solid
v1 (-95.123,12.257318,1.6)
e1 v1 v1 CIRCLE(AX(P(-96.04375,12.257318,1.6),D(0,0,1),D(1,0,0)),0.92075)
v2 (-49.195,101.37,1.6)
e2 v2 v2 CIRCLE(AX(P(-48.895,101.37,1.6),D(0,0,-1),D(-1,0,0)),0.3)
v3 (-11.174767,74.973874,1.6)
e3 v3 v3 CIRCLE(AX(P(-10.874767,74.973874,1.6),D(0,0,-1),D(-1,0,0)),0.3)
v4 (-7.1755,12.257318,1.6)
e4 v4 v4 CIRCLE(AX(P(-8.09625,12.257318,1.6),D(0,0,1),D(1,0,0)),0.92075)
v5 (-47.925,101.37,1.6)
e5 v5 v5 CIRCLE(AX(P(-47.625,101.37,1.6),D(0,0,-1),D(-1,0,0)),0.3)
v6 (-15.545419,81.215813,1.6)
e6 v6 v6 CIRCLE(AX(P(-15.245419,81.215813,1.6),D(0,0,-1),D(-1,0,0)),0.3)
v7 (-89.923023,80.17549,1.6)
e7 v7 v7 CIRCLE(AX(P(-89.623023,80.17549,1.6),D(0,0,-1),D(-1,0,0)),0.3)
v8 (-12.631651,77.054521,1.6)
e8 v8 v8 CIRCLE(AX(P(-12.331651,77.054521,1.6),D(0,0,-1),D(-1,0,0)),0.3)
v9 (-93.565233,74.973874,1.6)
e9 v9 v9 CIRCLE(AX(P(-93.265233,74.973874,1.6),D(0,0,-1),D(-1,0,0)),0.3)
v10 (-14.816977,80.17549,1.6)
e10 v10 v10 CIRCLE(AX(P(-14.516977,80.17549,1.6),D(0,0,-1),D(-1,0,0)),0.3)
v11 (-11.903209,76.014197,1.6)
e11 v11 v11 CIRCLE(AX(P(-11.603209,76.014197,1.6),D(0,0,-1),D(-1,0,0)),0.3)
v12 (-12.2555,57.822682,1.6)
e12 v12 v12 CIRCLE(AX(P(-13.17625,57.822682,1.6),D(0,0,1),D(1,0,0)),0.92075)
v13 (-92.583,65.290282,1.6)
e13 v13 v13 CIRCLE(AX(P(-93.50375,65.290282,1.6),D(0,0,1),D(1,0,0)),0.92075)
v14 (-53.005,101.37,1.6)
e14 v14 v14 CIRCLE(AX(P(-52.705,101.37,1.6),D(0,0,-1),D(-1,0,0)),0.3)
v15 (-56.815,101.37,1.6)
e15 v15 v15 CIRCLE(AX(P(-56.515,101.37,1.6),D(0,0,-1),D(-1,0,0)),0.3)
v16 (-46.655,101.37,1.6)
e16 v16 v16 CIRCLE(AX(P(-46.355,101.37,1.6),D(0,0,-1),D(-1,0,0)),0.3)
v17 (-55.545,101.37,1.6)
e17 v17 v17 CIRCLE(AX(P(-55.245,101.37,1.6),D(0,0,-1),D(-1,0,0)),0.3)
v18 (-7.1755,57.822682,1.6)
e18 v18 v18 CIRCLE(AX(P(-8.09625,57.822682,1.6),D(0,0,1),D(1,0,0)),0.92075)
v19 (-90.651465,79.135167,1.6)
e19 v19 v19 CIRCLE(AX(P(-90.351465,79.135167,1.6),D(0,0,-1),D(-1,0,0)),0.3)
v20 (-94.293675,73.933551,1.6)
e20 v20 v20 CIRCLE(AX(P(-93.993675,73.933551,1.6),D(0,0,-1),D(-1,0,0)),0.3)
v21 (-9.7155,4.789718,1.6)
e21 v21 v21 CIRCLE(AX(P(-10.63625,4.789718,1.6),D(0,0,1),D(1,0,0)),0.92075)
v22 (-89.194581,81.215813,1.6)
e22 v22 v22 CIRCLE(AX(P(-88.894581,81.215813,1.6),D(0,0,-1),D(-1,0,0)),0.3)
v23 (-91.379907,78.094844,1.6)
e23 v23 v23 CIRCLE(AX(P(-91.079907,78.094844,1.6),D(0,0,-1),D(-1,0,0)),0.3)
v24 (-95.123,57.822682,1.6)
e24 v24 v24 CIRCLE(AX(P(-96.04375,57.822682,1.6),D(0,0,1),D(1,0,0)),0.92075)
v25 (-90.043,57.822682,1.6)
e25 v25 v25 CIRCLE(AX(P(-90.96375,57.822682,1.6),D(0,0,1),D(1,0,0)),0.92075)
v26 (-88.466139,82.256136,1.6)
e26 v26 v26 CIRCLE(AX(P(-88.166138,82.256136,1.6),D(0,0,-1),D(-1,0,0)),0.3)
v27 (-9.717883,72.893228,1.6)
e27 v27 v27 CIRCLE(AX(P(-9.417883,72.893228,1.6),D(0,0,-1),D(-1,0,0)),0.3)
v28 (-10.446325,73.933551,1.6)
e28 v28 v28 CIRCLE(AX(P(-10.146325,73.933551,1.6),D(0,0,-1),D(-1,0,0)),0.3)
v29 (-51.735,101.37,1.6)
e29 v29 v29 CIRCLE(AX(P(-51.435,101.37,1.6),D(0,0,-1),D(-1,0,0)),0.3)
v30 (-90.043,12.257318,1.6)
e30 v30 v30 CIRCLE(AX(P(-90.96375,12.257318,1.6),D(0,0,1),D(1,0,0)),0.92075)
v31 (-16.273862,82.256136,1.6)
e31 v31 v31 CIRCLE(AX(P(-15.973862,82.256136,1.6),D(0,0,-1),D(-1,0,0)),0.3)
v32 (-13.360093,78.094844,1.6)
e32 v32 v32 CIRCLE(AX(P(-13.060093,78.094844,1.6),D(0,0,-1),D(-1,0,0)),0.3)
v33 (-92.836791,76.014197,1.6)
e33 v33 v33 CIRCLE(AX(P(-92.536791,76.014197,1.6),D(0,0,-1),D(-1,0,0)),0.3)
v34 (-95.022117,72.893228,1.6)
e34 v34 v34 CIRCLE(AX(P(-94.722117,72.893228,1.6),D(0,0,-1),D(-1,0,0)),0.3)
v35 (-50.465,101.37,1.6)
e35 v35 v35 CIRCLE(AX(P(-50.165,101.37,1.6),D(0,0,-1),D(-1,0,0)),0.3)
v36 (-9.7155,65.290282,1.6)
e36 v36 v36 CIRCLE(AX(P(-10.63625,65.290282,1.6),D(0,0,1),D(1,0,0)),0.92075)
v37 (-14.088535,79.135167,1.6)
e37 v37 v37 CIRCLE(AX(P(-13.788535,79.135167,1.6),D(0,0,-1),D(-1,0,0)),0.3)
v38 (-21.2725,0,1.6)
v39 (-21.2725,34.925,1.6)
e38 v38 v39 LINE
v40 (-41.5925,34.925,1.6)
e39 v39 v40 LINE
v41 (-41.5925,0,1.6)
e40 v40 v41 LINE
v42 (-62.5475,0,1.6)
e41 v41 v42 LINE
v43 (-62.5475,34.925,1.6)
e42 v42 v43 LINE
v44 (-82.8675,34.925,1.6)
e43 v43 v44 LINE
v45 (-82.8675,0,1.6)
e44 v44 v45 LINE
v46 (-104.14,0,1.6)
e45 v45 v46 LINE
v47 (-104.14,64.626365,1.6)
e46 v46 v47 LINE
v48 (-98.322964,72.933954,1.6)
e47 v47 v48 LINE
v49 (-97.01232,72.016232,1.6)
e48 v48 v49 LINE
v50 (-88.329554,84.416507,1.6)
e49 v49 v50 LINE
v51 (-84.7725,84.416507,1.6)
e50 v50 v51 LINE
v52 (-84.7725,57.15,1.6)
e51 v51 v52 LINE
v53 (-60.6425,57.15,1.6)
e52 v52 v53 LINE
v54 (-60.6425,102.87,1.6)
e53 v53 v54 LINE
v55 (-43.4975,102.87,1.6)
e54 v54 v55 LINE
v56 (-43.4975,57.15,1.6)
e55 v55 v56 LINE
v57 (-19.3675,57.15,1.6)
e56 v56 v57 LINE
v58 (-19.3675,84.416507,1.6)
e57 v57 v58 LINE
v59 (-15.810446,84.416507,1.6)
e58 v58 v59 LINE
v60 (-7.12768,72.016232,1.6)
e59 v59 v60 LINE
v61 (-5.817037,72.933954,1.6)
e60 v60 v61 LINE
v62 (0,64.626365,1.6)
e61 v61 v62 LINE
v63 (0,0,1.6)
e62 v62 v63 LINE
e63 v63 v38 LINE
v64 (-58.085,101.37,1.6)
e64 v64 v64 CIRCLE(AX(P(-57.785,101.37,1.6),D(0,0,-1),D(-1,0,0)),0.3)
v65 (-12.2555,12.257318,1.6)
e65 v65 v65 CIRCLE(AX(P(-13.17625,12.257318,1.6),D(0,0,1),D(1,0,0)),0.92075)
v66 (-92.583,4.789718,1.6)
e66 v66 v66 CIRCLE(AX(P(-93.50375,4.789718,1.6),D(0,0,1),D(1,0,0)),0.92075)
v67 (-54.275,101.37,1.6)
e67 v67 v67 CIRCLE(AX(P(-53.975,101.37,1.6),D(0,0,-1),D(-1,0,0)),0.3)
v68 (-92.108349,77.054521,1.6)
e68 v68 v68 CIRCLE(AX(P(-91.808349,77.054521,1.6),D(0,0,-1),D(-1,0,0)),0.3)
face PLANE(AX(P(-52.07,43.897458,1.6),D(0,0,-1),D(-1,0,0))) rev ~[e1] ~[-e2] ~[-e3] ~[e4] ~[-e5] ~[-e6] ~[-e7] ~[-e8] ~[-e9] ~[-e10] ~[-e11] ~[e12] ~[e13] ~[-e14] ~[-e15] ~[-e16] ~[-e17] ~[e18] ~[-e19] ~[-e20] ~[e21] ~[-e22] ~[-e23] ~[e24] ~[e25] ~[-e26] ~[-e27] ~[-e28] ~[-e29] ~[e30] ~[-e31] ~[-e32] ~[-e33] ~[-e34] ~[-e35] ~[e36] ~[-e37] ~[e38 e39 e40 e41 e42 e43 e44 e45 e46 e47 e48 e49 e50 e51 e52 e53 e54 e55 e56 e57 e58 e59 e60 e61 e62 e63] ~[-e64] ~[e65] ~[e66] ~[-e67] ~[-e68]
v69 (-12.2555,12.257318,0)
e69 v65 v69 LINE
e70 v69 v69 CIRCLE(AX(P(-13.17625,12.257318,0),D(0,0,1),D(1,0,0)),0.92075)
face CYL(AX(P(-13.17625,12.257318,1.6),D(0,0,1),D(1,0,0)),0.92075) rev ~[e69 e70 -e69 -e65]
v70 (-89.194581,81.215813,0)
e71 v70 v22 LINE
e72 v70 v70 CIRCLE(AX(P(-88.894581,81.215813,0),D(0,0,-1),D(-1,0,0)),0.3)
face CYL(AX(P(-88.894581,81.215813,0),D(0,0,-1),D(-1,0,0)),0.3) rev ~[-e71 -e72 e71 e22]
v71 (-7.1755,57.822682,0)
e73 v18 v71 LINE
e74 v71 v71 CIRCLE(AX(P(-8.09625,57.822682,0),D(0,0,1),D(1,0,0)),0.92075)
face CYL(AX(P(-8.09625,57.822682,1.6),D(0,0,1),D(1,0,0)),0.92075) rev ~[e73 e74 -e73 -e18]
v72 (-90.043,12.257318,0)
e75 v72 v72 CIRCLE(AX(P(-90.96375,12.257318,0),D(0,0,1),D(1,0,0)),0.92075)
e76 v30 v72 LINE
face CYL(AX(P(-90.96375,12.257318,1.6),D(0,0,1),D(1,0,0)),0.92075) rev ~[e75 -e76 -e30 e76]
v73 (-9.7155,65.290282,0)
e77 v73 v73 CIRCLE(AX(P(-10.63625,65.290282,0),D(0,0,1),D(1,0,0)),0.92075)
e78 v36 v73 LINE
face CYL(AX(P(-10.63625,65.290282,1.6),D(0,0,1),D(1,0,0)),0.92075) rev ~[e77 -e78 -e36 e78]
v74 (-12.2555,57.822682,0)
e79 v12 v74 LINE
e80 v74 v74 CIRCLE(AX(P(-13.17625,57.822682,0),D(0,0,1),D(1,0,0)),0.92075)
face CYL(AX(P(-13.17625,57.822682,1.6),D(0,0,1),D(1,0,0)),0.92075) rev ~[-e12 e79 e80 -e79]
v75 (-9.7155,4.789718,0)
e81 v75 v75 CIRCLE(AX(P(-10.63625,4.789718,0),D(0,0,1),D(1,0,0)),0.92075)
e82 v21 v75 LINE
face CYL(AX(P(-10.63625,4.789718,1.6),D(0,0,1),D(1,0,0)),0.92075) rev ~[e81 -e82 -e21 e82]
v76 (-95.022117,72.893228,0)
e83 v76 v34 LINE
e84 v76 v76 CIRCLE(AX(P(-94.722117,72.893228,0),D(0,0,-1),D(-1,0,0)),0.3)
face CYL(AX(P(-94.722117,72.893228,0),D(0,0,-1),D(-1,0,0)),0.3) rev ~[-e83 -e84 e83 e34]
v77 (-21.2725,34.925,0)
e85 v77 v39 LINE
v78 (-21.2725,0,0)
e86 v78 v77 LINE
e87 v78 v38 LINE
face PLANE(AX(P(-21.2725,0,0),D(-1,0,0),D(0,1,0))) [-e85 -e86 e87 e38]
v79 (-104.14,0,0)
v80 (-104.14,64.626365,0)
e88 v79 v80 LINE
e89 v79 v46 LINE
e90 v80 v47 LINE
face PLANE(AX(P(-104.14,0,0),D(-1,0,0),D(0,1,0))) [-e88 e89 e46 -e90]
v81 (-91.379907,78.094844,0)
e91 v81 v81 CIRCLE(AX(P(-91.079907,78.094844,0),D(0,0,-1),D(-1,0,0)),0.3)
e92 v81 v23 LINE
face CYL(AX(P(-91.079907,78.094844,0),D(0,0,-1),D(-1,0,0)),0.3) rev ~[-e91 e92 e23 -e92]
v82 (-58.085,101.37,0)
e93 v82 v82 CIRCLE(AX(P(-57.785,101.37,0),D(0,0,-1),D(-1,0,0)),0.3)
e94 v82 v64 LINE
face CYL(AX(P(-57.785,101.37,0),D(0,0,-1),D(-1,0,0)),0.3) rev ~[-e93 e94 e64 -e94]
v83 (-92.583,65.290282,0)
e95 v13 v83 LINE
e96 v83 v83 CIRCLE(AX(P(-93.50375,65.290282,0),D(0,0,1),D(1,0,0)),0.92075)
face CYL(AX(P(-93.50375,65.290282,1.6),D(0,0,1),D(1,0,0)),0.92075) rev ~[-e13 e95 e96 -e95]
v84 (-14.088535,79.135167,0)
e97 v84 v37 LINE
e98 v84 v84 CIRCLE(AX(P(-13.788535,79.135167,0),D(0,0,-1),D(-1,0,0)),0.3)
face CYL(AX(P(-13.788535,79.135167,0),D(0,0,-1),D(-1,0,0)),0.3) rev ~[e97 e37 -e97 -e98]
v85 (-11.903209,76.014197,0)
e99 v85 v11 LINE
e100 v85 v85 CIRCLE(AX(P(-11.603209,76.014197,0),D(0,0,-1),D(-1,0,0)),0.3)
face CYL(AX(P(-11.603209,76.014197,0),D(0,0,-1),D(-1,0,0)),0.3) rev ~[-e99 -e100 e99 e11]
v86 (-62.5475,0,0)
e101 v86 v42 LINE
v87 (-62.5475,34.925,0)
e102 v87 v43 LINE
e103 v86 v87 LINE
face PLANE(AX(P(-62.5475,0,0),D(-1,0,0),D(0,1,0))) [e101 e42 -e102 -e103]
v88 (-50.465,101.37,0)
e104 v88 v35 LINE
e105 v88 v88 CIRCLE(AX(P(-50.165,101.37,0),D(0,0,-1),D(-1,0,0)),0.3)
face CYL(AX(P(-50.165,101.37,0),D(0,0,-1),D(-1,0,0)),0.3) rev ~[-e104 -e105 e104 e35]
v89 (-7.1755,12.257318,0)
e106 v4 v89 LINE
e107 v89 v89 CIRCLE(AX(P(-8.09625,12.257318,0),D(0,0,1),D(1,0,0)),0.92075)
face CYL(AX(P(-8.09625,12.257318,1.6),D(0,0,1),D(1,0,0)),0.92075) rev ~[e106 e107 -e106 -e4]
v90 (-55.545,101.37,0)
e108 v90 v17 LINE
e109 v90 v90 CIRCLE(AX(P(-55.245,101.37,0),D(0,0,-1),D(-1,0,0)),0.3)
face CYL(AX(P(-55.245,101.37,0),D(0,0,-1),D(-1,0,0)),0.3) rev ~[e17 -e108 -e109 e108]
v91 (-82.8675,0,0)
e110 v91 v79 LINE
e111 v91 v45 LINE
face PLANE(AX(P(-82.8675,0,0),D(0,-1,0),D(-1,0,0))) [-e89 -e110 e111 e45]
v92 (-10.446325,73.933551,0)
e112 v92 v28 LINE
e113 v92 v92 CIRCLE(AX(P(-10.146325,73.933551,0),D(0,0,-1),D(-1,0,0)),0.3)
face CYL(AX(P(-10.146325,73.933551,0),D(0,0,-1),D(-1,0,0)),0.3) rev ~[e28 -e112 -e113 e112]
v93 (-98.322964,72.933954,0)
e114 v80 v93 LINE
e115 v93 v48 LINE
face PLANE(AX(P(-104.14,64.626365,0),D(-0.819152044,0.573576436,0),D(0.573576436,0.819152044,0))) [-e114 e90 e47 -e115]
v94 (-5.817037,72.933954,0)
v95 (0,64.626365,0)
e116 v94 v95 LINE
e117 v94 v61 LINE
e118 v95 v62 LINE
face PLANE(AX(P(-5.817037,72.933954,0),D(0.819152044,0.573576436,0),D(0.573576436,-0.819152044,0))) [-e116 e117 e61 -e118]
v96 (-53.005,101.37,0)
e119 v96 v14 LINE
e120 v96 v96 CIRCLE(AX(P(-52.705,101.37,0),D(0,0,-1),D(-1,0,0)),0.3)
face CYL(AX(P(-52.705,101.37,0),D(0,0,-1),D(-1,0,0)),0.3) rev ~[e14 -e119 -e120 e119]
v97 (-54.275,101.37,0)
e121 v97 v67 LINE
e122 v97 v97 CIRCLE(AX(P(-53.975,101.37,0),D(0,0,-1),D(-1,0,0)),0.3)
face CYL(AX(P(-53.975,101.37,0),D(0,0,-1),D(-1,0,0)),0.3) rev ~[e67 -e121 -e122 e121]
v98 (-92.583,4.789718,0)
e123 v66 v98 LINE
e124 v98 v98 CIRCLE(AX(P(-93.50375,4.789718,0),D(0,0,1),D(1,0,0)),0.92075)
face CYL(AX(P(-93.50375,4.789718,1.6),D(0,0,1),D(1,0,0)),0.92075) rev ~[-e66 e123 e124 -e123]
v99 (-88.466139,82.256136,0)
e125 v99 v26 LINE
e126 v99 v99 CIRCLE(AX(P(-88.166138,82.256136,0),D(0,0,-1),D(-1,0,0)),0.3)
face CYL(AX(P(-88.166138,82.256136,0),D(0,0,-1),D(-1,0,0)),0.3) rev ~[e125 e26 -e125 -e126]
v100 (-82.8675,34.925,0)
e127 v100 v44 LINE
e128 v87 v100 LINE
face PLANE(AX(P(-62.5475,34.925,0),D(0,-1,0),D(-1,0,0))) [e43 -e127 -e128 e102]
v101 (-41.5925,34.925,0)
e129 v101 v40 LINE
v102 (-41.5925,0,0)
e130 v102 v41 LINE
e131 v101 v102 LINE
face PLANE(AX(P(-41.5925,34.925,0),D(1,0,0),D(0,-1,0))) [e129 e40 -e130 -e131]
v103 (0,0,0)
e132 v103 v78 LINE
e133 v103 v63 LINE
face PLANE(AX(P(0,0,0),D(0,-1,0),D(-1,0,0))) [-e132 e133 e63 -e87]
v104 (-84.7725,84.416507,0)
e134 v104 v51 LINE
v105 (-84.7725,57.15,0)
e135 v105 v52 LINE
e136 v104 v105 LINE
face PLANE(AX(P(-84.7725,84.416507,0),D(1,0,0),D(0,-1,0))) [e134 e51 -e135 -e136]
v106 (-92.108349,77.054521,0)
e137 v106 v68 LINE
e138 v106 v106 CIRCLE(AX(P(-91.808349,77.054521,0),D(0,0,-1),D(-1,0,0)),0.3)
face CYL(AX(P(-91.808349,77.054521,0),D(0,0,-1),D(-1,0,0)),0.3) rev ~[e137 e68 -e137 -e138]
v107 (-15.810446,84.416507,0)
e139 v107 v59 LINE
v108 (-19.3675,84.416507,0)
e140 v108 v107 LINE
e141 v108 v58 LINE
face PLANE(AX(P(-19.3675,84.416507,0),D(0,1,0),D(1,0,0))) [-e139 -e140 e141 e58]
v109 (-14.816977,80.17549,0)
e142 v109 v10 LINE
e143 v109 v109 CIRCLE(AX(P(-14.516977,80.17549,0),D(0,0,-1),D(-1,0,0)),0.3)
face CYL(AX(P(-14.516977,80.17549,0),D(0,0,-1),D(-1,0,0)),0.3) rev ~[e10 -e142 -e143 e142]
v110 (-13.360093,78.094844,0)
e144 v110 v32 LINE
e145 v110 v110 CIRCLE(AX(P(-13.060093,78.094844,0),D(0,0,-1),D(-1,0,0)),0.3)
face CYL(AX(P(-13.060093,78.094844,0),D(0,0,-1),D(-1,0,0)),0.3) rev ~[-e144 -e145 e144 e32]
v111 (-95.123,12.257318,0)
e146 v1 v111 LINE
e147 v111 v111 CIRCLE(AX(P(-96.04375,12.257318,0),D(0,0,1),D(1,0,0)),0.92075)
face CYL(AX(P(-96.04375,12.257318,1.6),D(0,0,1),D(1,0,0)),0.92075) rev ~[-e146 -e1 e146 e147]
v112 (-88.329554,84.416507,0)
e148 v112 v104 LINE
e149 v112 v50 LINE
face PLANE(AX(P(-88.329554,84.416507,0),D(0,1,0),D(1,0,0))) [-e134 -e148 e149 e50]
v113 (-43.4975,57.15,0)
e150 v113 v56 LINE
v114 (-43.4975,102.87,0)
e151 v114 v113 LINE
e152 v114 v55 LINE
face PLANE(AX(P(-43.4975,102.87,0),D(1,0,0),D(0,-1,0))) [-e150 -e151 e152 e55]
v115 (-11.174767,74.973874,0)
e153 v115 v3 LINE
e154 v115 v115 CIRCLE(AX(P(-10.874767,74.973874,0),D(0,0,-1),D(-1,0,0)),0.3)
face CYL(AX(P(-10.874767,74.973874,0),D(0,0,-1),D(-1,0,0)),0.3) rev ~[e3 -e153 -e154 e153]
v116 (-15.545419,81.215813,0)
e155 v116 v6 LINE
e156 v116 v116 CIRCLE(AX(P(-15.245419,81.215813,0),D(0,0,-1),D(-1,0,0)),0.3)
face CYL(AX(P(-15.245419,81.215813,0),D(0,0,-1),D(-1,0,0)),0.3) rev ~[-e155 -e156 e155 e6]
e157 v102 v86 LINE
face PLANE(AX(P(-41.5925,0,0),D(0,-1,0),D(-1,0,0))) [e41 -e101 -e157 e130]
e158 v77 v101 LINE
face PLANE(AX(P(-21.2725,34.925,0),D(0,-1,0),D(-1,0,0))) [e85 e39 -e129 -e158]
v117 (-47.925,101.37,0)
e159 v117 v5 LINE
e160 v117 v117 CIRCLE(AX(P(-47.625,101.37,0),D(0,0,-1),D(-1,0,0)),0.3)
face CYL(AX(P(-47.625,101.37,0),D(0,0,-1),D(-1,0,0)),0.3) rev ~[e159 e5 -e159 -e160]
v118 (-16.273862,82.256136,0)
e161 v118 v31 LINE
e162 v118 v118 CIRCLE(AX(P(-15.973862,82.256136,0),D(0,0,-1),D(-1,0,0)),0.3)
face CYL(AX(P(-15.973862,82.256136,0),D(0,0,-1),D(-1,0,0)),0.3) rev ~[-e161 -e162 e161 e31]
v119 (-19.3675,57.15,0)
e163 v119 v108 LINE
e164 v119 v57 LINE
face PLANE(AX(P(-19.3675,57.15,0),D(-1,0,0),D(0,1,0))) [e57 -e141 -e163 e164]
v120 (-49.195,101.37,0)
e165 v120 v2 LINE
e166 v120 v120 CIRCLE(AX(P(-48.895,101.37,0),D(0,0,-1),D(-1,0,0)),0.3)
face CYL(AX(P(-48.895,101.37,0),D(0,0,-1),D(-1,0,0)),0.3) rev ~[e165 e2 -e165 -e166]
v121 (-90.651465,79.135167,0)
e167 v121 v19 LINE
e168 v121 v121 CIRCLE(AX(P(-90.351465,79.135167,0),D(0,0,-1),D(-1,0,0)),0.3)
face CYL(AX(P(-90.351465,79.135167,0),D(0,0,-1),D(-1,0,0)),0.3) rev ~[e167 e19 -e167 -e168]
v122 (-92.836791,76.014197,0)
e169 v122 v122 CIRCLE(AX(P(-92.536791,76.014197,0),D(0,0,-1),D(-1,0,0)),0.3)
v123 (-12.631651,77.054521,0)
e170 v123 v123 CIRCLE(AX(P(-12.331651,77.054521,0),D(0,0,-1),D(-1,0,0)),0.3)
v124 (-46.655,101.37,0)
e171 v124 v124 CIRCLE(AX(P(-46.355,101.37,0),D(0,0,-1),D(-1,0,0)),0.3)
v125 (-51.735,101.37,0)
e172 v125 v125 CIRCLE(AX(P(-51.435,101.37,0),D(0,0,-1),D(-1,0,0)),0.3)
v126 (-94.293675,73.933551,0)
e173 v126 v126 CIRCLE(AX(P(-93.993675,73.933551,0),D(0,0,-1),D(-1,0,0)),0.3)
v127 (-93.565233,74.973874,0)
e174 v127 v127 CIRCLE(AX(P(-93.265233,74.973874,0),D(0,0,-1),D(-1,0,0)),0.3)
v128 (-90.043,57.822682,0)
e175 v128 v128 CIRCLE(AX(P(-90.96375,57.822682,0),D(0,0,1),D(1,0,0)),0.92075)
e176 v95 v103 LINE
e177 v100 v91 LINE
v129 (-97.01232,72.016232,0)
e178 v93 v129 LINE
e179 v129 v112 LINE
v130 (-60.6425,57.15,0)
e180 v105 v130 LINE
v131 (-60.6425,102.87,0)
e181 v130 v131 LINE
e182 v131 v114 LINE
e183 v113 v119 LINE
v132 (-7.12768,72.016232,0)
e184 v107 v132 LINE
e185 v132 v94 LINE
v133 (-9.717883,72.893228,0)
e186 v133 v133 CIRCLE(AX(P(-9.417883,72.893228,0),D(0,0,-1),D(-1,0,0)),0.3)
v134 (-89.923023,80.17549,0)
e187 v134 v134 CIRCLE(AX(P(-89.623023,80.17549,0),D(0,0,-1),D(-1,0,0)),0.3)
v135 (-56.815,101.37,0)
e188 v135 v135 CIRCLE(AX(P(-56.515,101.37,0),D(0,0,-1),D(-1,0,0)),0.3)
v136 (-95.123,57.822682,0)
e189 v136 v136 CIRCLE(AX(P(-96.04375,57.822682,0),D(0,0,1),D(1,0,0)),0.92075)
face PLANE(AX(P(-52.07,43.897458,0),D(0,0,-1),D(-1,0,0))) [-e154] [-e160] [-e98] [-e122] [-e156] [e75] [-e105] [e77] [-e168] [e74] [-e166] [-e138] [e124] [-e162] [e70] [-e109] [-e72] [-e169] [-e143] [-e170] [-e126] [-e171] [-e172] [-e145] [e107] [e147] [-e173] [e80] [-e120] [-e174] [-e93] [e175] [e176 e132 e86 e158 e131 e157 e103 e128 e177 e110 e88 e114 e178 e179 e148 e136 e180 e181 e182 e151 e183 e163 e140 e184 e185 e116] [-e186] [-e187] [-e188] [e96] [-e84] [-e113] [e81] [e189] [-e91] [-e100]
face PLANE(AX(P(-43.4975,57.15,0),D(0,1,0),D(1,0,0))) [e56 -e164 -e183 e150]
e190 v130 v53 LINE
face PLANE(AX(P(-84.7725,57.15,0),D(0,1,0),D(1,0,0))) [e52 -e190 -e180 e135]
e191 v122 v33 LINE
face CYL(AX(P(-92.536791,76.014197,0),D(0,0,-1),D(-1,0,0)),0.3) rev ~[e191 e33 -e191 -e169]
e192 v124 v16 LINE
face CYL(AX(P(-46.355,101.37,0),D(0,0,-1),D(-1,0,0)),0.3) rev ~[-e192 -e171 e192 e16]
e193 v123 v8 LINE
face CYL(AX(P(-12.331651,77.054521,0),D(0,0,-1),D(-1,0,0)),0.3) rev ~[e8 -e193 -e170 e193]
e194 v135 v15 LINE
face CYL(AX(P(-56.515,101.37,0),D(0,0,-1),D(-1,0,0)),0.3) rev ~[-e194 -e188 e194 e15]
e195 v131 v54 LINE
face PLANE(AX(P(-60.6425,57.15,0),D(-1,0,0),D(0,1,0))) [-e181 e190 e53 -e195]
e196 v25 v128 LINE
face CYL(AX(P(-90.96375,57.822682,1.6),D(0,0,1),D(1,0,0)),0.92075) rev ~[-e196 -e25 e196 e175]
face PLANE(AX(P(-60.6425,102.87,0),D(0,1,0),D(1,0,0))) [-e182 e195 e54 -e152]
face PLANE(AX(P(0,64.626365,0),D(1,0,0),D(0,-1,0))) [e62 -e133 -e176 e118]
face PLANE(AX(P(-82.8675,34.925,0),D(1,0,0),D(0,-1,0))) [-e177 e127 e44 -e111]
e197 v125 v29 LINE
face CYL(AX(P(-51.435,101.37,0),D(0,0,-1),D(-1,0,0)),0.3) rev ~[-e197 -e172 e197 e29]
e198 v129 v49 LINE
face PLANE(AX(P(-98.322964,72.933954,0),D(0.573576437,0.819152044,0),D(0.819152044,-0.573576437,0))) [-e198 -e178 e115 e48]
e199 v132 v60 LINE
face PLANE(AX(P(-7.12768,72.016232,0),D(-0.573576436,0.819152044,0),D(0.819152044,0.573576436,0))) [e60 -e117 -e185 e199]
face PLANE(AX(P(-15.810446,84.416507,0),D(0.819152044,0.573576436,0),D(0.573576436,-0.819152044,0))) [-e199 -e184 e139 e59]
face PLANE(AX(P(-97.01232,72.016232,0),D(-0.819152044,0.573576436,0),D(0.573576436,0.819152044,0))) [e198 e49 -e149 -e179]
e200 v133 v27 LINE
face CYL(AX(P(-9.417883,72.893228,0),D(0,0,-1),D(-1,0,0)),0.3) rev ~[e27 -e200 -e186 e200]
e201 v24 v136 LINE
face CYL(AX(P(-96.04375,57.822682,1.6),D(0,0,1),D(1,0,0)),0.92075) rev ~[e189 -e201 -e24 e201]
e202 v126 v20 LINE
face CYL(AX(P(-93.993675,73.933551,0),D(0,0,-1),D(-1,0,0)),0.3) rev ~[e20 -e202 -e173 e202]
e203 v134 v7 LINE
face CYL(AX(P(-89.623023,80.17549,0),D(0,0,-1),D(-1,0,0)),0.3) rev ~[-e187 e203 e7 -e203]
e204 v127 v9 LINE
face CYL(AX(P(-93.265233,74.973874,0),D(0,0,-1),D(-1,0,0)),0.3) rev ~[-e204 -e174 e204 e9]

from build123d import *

# Parameters (mm, degrees)
BOSS_EXTRUDE1_DEPTH = 1.6
SKETCH3_R           = 0.92075
CUT_EXTRUDE1_DEPTH  = 2.54
SKETCH4_R           = 0.3
SKETCH4_R_2         = 0.300000035
CUT_EXTRUDE2_DEPTH  = 2.54


with BuildPart() as part:
    # Sketch1 → Boss-Extrude1 (new body)
    with BuildSketch(Plane.XY):
        Polygon((-19.3675, 84.416506551), (-15.810445706, 84.416506551), (-7.127679781, 72.016231702), (-5.81703651, 72.933954), (0, 64.626364903), (0, 0), (-21.2725, 0), (-21.2725, 34.925), (-41.5925, 34.925), (-41.5925, 0), (-62.54750001, 0), (-62.54750001, 34.925), (-82.86750001, 34.925), (-82.86750001, 0), (-104.14000001, 0), (-104.14000001, 64.626364903), (-98.3229635, 72.933954), (-97.01232023, 72.016231702), (-88.329554304, 84.416506551), (-84.77250001, 84.416506551), (-84.77250001, 57.15), (-60.6425, 57.15), (-60.6425, 102.87), (-43.49750001, 102.87), (-43.49750001, 57.15), (-19.3675, 57.15), align=None)
    extrude(amount=BOSS_EXTRUDE1_DEPTH)

    # Sketch3 → Cut-Extrude1 (cut)
    with BuildSketch(Plane.XY.offset(1.6)):
        with Locations((-93.50375001, 4.789717726)):
            Circle(SKETCH3_R)
        with Locations((-90.96375001, 12.257317726)):
            Circle(SKETCH3_R)
        with Locations((-90.96375001, 57.822682274)):
            Circle(SKETCH3_R)
        with Locations((-96.04375001, 12.257317726)):
            Circle(SKETCH3_R)
        with Locations((-93.50375001, 65.290282274)):
            Circle(SKETCH3_R)
        with Locations((-96.04375001, 57.822682274)):
            Circle(SKETCH3_R)
        with Locations((-10.63625, 4.789717726)):
            Circle(SKETCH3_R)
        with Locations((-8.09625, 12.257317726)):
            Circle(SKETCH3_R)
        with Locations((-13.17625, 12.257317726)):
            Circle(SKETCH3_R)
        with Locations((-8.09625, 57.822682274)):
            Circle(SKETCH3_R)
        with Locations((-10.63625, 65.290282274)):
            Circle(SKETCH3_R)
        with Locations((-13.17625, 57.822682274)):
            Circle(SKETCH3_R)
    extrude(amount=-CUT_EXTRUDE1_DEPTH, mode=Mode.SUBTRACT)

    # Sketch4 → Cut-Extrude2 (cut)
    with BuildSketch(Plane(origin=(0, 0, 0), x_dir=(-1, 0, 0), z_dir=(0, 0, -1))):
        with Locations((46.355000005, 101.37)):
            Circle(SKETCH4_R)
        with Locations((47.625000005, 101.37)):
            Circle(SKETCH4_R)
        with Locations((48.895000005, 101.37)):
            Circle(SKETCH4_R)
        with Locations((50.165000005, 101.37)):
            Circle(SKETCH4_R)
        with Locations((51.435000005, 101.37)):
            Circle(SKETCH4_R)
        with Locations((52.705000005, 101.37)):
            Circle(SKETCH4_R)
        with Locations((53.975000005, 101.37)):
            Circle(SKETCH4_R)
        with Locations((55.245000005, 101.37)):
            Circle(SKETCH4_R)
        with Locations((56.515000005, 101.37)):
            Circle(SKETCH4_R)
        with Locations((57.785000005, 101.37)):
            Circle(SKETCH4_R)
        with Locations((88.166138487, 82.256136075)):
            Circle(SKETCH4_R_2)
        with Locations((88.894580561, 81.215812979)):
            Circle(SKETCH4_R_2)
        with Locations((89.623022635, 80.175489883)):
            Circle(SKETCH4_R_2)
        with Locations((90.351464709, 79.135166786)):
            Circle(SKETCH4_R_2)
        with Locations((91.079906783, 78.09484369)):
            Circle(SKETCH4_R_2)
        with Locations((91.808348857, 77.054520594)):
            Circle(SKETCH4_R_2)
        with Locations((92.536790932, 76.014197498)):
            Circle(SKETCH4_R_2)
        with Locations((93.265233006, 74.973874401)):
            Circle(SKETCH4_R_2)
        with Locations((93.99367508, 73.933551305)):
            Circle(SKETCH4_R_2)
        with Locations((94.722117154, 72.893228209)):
            Circle(SKETCH4_R_2)
        with Locations((9.417882856, 72.893228209)):
            Circle(SKETCH4_R_2)
        with Locations((10.14632493, 73.933551305)):
            Circle(SKETCH4_R_2)
        with Locations((10.874767005, 74.973874401)):
            Circle(SKETCH4_R_2)
        with Locations((11.603209079, 76.014197498)):
            Circle(SKETCH4_R_2)
        with Locations((12.331651153, 77.054520594)):
            Circle(SKETCH4_R_2)
        with Locations((13.060093227, 78.09484369)):
            Circle(SKETCH4_R_2)
        with Locations((13.788535301, 79.135166786)):
            Circle(SKETCH4_R_2)
        with Locations((14.516977375, 80.175489883)):
            Circle(SKETCH4_R_2)
        with Locations((15.24541945, 81.215812979)):
            Circle(SKETCH4_R_2)
        with Locations((15.973861524, 82.256136075)):
            Circle(SKETCH4_R_2)
    extrude(amount=-CUT_EXTRUDE2_DEPTH, mode=Mode.SUBTRACT)


solid = part.part
